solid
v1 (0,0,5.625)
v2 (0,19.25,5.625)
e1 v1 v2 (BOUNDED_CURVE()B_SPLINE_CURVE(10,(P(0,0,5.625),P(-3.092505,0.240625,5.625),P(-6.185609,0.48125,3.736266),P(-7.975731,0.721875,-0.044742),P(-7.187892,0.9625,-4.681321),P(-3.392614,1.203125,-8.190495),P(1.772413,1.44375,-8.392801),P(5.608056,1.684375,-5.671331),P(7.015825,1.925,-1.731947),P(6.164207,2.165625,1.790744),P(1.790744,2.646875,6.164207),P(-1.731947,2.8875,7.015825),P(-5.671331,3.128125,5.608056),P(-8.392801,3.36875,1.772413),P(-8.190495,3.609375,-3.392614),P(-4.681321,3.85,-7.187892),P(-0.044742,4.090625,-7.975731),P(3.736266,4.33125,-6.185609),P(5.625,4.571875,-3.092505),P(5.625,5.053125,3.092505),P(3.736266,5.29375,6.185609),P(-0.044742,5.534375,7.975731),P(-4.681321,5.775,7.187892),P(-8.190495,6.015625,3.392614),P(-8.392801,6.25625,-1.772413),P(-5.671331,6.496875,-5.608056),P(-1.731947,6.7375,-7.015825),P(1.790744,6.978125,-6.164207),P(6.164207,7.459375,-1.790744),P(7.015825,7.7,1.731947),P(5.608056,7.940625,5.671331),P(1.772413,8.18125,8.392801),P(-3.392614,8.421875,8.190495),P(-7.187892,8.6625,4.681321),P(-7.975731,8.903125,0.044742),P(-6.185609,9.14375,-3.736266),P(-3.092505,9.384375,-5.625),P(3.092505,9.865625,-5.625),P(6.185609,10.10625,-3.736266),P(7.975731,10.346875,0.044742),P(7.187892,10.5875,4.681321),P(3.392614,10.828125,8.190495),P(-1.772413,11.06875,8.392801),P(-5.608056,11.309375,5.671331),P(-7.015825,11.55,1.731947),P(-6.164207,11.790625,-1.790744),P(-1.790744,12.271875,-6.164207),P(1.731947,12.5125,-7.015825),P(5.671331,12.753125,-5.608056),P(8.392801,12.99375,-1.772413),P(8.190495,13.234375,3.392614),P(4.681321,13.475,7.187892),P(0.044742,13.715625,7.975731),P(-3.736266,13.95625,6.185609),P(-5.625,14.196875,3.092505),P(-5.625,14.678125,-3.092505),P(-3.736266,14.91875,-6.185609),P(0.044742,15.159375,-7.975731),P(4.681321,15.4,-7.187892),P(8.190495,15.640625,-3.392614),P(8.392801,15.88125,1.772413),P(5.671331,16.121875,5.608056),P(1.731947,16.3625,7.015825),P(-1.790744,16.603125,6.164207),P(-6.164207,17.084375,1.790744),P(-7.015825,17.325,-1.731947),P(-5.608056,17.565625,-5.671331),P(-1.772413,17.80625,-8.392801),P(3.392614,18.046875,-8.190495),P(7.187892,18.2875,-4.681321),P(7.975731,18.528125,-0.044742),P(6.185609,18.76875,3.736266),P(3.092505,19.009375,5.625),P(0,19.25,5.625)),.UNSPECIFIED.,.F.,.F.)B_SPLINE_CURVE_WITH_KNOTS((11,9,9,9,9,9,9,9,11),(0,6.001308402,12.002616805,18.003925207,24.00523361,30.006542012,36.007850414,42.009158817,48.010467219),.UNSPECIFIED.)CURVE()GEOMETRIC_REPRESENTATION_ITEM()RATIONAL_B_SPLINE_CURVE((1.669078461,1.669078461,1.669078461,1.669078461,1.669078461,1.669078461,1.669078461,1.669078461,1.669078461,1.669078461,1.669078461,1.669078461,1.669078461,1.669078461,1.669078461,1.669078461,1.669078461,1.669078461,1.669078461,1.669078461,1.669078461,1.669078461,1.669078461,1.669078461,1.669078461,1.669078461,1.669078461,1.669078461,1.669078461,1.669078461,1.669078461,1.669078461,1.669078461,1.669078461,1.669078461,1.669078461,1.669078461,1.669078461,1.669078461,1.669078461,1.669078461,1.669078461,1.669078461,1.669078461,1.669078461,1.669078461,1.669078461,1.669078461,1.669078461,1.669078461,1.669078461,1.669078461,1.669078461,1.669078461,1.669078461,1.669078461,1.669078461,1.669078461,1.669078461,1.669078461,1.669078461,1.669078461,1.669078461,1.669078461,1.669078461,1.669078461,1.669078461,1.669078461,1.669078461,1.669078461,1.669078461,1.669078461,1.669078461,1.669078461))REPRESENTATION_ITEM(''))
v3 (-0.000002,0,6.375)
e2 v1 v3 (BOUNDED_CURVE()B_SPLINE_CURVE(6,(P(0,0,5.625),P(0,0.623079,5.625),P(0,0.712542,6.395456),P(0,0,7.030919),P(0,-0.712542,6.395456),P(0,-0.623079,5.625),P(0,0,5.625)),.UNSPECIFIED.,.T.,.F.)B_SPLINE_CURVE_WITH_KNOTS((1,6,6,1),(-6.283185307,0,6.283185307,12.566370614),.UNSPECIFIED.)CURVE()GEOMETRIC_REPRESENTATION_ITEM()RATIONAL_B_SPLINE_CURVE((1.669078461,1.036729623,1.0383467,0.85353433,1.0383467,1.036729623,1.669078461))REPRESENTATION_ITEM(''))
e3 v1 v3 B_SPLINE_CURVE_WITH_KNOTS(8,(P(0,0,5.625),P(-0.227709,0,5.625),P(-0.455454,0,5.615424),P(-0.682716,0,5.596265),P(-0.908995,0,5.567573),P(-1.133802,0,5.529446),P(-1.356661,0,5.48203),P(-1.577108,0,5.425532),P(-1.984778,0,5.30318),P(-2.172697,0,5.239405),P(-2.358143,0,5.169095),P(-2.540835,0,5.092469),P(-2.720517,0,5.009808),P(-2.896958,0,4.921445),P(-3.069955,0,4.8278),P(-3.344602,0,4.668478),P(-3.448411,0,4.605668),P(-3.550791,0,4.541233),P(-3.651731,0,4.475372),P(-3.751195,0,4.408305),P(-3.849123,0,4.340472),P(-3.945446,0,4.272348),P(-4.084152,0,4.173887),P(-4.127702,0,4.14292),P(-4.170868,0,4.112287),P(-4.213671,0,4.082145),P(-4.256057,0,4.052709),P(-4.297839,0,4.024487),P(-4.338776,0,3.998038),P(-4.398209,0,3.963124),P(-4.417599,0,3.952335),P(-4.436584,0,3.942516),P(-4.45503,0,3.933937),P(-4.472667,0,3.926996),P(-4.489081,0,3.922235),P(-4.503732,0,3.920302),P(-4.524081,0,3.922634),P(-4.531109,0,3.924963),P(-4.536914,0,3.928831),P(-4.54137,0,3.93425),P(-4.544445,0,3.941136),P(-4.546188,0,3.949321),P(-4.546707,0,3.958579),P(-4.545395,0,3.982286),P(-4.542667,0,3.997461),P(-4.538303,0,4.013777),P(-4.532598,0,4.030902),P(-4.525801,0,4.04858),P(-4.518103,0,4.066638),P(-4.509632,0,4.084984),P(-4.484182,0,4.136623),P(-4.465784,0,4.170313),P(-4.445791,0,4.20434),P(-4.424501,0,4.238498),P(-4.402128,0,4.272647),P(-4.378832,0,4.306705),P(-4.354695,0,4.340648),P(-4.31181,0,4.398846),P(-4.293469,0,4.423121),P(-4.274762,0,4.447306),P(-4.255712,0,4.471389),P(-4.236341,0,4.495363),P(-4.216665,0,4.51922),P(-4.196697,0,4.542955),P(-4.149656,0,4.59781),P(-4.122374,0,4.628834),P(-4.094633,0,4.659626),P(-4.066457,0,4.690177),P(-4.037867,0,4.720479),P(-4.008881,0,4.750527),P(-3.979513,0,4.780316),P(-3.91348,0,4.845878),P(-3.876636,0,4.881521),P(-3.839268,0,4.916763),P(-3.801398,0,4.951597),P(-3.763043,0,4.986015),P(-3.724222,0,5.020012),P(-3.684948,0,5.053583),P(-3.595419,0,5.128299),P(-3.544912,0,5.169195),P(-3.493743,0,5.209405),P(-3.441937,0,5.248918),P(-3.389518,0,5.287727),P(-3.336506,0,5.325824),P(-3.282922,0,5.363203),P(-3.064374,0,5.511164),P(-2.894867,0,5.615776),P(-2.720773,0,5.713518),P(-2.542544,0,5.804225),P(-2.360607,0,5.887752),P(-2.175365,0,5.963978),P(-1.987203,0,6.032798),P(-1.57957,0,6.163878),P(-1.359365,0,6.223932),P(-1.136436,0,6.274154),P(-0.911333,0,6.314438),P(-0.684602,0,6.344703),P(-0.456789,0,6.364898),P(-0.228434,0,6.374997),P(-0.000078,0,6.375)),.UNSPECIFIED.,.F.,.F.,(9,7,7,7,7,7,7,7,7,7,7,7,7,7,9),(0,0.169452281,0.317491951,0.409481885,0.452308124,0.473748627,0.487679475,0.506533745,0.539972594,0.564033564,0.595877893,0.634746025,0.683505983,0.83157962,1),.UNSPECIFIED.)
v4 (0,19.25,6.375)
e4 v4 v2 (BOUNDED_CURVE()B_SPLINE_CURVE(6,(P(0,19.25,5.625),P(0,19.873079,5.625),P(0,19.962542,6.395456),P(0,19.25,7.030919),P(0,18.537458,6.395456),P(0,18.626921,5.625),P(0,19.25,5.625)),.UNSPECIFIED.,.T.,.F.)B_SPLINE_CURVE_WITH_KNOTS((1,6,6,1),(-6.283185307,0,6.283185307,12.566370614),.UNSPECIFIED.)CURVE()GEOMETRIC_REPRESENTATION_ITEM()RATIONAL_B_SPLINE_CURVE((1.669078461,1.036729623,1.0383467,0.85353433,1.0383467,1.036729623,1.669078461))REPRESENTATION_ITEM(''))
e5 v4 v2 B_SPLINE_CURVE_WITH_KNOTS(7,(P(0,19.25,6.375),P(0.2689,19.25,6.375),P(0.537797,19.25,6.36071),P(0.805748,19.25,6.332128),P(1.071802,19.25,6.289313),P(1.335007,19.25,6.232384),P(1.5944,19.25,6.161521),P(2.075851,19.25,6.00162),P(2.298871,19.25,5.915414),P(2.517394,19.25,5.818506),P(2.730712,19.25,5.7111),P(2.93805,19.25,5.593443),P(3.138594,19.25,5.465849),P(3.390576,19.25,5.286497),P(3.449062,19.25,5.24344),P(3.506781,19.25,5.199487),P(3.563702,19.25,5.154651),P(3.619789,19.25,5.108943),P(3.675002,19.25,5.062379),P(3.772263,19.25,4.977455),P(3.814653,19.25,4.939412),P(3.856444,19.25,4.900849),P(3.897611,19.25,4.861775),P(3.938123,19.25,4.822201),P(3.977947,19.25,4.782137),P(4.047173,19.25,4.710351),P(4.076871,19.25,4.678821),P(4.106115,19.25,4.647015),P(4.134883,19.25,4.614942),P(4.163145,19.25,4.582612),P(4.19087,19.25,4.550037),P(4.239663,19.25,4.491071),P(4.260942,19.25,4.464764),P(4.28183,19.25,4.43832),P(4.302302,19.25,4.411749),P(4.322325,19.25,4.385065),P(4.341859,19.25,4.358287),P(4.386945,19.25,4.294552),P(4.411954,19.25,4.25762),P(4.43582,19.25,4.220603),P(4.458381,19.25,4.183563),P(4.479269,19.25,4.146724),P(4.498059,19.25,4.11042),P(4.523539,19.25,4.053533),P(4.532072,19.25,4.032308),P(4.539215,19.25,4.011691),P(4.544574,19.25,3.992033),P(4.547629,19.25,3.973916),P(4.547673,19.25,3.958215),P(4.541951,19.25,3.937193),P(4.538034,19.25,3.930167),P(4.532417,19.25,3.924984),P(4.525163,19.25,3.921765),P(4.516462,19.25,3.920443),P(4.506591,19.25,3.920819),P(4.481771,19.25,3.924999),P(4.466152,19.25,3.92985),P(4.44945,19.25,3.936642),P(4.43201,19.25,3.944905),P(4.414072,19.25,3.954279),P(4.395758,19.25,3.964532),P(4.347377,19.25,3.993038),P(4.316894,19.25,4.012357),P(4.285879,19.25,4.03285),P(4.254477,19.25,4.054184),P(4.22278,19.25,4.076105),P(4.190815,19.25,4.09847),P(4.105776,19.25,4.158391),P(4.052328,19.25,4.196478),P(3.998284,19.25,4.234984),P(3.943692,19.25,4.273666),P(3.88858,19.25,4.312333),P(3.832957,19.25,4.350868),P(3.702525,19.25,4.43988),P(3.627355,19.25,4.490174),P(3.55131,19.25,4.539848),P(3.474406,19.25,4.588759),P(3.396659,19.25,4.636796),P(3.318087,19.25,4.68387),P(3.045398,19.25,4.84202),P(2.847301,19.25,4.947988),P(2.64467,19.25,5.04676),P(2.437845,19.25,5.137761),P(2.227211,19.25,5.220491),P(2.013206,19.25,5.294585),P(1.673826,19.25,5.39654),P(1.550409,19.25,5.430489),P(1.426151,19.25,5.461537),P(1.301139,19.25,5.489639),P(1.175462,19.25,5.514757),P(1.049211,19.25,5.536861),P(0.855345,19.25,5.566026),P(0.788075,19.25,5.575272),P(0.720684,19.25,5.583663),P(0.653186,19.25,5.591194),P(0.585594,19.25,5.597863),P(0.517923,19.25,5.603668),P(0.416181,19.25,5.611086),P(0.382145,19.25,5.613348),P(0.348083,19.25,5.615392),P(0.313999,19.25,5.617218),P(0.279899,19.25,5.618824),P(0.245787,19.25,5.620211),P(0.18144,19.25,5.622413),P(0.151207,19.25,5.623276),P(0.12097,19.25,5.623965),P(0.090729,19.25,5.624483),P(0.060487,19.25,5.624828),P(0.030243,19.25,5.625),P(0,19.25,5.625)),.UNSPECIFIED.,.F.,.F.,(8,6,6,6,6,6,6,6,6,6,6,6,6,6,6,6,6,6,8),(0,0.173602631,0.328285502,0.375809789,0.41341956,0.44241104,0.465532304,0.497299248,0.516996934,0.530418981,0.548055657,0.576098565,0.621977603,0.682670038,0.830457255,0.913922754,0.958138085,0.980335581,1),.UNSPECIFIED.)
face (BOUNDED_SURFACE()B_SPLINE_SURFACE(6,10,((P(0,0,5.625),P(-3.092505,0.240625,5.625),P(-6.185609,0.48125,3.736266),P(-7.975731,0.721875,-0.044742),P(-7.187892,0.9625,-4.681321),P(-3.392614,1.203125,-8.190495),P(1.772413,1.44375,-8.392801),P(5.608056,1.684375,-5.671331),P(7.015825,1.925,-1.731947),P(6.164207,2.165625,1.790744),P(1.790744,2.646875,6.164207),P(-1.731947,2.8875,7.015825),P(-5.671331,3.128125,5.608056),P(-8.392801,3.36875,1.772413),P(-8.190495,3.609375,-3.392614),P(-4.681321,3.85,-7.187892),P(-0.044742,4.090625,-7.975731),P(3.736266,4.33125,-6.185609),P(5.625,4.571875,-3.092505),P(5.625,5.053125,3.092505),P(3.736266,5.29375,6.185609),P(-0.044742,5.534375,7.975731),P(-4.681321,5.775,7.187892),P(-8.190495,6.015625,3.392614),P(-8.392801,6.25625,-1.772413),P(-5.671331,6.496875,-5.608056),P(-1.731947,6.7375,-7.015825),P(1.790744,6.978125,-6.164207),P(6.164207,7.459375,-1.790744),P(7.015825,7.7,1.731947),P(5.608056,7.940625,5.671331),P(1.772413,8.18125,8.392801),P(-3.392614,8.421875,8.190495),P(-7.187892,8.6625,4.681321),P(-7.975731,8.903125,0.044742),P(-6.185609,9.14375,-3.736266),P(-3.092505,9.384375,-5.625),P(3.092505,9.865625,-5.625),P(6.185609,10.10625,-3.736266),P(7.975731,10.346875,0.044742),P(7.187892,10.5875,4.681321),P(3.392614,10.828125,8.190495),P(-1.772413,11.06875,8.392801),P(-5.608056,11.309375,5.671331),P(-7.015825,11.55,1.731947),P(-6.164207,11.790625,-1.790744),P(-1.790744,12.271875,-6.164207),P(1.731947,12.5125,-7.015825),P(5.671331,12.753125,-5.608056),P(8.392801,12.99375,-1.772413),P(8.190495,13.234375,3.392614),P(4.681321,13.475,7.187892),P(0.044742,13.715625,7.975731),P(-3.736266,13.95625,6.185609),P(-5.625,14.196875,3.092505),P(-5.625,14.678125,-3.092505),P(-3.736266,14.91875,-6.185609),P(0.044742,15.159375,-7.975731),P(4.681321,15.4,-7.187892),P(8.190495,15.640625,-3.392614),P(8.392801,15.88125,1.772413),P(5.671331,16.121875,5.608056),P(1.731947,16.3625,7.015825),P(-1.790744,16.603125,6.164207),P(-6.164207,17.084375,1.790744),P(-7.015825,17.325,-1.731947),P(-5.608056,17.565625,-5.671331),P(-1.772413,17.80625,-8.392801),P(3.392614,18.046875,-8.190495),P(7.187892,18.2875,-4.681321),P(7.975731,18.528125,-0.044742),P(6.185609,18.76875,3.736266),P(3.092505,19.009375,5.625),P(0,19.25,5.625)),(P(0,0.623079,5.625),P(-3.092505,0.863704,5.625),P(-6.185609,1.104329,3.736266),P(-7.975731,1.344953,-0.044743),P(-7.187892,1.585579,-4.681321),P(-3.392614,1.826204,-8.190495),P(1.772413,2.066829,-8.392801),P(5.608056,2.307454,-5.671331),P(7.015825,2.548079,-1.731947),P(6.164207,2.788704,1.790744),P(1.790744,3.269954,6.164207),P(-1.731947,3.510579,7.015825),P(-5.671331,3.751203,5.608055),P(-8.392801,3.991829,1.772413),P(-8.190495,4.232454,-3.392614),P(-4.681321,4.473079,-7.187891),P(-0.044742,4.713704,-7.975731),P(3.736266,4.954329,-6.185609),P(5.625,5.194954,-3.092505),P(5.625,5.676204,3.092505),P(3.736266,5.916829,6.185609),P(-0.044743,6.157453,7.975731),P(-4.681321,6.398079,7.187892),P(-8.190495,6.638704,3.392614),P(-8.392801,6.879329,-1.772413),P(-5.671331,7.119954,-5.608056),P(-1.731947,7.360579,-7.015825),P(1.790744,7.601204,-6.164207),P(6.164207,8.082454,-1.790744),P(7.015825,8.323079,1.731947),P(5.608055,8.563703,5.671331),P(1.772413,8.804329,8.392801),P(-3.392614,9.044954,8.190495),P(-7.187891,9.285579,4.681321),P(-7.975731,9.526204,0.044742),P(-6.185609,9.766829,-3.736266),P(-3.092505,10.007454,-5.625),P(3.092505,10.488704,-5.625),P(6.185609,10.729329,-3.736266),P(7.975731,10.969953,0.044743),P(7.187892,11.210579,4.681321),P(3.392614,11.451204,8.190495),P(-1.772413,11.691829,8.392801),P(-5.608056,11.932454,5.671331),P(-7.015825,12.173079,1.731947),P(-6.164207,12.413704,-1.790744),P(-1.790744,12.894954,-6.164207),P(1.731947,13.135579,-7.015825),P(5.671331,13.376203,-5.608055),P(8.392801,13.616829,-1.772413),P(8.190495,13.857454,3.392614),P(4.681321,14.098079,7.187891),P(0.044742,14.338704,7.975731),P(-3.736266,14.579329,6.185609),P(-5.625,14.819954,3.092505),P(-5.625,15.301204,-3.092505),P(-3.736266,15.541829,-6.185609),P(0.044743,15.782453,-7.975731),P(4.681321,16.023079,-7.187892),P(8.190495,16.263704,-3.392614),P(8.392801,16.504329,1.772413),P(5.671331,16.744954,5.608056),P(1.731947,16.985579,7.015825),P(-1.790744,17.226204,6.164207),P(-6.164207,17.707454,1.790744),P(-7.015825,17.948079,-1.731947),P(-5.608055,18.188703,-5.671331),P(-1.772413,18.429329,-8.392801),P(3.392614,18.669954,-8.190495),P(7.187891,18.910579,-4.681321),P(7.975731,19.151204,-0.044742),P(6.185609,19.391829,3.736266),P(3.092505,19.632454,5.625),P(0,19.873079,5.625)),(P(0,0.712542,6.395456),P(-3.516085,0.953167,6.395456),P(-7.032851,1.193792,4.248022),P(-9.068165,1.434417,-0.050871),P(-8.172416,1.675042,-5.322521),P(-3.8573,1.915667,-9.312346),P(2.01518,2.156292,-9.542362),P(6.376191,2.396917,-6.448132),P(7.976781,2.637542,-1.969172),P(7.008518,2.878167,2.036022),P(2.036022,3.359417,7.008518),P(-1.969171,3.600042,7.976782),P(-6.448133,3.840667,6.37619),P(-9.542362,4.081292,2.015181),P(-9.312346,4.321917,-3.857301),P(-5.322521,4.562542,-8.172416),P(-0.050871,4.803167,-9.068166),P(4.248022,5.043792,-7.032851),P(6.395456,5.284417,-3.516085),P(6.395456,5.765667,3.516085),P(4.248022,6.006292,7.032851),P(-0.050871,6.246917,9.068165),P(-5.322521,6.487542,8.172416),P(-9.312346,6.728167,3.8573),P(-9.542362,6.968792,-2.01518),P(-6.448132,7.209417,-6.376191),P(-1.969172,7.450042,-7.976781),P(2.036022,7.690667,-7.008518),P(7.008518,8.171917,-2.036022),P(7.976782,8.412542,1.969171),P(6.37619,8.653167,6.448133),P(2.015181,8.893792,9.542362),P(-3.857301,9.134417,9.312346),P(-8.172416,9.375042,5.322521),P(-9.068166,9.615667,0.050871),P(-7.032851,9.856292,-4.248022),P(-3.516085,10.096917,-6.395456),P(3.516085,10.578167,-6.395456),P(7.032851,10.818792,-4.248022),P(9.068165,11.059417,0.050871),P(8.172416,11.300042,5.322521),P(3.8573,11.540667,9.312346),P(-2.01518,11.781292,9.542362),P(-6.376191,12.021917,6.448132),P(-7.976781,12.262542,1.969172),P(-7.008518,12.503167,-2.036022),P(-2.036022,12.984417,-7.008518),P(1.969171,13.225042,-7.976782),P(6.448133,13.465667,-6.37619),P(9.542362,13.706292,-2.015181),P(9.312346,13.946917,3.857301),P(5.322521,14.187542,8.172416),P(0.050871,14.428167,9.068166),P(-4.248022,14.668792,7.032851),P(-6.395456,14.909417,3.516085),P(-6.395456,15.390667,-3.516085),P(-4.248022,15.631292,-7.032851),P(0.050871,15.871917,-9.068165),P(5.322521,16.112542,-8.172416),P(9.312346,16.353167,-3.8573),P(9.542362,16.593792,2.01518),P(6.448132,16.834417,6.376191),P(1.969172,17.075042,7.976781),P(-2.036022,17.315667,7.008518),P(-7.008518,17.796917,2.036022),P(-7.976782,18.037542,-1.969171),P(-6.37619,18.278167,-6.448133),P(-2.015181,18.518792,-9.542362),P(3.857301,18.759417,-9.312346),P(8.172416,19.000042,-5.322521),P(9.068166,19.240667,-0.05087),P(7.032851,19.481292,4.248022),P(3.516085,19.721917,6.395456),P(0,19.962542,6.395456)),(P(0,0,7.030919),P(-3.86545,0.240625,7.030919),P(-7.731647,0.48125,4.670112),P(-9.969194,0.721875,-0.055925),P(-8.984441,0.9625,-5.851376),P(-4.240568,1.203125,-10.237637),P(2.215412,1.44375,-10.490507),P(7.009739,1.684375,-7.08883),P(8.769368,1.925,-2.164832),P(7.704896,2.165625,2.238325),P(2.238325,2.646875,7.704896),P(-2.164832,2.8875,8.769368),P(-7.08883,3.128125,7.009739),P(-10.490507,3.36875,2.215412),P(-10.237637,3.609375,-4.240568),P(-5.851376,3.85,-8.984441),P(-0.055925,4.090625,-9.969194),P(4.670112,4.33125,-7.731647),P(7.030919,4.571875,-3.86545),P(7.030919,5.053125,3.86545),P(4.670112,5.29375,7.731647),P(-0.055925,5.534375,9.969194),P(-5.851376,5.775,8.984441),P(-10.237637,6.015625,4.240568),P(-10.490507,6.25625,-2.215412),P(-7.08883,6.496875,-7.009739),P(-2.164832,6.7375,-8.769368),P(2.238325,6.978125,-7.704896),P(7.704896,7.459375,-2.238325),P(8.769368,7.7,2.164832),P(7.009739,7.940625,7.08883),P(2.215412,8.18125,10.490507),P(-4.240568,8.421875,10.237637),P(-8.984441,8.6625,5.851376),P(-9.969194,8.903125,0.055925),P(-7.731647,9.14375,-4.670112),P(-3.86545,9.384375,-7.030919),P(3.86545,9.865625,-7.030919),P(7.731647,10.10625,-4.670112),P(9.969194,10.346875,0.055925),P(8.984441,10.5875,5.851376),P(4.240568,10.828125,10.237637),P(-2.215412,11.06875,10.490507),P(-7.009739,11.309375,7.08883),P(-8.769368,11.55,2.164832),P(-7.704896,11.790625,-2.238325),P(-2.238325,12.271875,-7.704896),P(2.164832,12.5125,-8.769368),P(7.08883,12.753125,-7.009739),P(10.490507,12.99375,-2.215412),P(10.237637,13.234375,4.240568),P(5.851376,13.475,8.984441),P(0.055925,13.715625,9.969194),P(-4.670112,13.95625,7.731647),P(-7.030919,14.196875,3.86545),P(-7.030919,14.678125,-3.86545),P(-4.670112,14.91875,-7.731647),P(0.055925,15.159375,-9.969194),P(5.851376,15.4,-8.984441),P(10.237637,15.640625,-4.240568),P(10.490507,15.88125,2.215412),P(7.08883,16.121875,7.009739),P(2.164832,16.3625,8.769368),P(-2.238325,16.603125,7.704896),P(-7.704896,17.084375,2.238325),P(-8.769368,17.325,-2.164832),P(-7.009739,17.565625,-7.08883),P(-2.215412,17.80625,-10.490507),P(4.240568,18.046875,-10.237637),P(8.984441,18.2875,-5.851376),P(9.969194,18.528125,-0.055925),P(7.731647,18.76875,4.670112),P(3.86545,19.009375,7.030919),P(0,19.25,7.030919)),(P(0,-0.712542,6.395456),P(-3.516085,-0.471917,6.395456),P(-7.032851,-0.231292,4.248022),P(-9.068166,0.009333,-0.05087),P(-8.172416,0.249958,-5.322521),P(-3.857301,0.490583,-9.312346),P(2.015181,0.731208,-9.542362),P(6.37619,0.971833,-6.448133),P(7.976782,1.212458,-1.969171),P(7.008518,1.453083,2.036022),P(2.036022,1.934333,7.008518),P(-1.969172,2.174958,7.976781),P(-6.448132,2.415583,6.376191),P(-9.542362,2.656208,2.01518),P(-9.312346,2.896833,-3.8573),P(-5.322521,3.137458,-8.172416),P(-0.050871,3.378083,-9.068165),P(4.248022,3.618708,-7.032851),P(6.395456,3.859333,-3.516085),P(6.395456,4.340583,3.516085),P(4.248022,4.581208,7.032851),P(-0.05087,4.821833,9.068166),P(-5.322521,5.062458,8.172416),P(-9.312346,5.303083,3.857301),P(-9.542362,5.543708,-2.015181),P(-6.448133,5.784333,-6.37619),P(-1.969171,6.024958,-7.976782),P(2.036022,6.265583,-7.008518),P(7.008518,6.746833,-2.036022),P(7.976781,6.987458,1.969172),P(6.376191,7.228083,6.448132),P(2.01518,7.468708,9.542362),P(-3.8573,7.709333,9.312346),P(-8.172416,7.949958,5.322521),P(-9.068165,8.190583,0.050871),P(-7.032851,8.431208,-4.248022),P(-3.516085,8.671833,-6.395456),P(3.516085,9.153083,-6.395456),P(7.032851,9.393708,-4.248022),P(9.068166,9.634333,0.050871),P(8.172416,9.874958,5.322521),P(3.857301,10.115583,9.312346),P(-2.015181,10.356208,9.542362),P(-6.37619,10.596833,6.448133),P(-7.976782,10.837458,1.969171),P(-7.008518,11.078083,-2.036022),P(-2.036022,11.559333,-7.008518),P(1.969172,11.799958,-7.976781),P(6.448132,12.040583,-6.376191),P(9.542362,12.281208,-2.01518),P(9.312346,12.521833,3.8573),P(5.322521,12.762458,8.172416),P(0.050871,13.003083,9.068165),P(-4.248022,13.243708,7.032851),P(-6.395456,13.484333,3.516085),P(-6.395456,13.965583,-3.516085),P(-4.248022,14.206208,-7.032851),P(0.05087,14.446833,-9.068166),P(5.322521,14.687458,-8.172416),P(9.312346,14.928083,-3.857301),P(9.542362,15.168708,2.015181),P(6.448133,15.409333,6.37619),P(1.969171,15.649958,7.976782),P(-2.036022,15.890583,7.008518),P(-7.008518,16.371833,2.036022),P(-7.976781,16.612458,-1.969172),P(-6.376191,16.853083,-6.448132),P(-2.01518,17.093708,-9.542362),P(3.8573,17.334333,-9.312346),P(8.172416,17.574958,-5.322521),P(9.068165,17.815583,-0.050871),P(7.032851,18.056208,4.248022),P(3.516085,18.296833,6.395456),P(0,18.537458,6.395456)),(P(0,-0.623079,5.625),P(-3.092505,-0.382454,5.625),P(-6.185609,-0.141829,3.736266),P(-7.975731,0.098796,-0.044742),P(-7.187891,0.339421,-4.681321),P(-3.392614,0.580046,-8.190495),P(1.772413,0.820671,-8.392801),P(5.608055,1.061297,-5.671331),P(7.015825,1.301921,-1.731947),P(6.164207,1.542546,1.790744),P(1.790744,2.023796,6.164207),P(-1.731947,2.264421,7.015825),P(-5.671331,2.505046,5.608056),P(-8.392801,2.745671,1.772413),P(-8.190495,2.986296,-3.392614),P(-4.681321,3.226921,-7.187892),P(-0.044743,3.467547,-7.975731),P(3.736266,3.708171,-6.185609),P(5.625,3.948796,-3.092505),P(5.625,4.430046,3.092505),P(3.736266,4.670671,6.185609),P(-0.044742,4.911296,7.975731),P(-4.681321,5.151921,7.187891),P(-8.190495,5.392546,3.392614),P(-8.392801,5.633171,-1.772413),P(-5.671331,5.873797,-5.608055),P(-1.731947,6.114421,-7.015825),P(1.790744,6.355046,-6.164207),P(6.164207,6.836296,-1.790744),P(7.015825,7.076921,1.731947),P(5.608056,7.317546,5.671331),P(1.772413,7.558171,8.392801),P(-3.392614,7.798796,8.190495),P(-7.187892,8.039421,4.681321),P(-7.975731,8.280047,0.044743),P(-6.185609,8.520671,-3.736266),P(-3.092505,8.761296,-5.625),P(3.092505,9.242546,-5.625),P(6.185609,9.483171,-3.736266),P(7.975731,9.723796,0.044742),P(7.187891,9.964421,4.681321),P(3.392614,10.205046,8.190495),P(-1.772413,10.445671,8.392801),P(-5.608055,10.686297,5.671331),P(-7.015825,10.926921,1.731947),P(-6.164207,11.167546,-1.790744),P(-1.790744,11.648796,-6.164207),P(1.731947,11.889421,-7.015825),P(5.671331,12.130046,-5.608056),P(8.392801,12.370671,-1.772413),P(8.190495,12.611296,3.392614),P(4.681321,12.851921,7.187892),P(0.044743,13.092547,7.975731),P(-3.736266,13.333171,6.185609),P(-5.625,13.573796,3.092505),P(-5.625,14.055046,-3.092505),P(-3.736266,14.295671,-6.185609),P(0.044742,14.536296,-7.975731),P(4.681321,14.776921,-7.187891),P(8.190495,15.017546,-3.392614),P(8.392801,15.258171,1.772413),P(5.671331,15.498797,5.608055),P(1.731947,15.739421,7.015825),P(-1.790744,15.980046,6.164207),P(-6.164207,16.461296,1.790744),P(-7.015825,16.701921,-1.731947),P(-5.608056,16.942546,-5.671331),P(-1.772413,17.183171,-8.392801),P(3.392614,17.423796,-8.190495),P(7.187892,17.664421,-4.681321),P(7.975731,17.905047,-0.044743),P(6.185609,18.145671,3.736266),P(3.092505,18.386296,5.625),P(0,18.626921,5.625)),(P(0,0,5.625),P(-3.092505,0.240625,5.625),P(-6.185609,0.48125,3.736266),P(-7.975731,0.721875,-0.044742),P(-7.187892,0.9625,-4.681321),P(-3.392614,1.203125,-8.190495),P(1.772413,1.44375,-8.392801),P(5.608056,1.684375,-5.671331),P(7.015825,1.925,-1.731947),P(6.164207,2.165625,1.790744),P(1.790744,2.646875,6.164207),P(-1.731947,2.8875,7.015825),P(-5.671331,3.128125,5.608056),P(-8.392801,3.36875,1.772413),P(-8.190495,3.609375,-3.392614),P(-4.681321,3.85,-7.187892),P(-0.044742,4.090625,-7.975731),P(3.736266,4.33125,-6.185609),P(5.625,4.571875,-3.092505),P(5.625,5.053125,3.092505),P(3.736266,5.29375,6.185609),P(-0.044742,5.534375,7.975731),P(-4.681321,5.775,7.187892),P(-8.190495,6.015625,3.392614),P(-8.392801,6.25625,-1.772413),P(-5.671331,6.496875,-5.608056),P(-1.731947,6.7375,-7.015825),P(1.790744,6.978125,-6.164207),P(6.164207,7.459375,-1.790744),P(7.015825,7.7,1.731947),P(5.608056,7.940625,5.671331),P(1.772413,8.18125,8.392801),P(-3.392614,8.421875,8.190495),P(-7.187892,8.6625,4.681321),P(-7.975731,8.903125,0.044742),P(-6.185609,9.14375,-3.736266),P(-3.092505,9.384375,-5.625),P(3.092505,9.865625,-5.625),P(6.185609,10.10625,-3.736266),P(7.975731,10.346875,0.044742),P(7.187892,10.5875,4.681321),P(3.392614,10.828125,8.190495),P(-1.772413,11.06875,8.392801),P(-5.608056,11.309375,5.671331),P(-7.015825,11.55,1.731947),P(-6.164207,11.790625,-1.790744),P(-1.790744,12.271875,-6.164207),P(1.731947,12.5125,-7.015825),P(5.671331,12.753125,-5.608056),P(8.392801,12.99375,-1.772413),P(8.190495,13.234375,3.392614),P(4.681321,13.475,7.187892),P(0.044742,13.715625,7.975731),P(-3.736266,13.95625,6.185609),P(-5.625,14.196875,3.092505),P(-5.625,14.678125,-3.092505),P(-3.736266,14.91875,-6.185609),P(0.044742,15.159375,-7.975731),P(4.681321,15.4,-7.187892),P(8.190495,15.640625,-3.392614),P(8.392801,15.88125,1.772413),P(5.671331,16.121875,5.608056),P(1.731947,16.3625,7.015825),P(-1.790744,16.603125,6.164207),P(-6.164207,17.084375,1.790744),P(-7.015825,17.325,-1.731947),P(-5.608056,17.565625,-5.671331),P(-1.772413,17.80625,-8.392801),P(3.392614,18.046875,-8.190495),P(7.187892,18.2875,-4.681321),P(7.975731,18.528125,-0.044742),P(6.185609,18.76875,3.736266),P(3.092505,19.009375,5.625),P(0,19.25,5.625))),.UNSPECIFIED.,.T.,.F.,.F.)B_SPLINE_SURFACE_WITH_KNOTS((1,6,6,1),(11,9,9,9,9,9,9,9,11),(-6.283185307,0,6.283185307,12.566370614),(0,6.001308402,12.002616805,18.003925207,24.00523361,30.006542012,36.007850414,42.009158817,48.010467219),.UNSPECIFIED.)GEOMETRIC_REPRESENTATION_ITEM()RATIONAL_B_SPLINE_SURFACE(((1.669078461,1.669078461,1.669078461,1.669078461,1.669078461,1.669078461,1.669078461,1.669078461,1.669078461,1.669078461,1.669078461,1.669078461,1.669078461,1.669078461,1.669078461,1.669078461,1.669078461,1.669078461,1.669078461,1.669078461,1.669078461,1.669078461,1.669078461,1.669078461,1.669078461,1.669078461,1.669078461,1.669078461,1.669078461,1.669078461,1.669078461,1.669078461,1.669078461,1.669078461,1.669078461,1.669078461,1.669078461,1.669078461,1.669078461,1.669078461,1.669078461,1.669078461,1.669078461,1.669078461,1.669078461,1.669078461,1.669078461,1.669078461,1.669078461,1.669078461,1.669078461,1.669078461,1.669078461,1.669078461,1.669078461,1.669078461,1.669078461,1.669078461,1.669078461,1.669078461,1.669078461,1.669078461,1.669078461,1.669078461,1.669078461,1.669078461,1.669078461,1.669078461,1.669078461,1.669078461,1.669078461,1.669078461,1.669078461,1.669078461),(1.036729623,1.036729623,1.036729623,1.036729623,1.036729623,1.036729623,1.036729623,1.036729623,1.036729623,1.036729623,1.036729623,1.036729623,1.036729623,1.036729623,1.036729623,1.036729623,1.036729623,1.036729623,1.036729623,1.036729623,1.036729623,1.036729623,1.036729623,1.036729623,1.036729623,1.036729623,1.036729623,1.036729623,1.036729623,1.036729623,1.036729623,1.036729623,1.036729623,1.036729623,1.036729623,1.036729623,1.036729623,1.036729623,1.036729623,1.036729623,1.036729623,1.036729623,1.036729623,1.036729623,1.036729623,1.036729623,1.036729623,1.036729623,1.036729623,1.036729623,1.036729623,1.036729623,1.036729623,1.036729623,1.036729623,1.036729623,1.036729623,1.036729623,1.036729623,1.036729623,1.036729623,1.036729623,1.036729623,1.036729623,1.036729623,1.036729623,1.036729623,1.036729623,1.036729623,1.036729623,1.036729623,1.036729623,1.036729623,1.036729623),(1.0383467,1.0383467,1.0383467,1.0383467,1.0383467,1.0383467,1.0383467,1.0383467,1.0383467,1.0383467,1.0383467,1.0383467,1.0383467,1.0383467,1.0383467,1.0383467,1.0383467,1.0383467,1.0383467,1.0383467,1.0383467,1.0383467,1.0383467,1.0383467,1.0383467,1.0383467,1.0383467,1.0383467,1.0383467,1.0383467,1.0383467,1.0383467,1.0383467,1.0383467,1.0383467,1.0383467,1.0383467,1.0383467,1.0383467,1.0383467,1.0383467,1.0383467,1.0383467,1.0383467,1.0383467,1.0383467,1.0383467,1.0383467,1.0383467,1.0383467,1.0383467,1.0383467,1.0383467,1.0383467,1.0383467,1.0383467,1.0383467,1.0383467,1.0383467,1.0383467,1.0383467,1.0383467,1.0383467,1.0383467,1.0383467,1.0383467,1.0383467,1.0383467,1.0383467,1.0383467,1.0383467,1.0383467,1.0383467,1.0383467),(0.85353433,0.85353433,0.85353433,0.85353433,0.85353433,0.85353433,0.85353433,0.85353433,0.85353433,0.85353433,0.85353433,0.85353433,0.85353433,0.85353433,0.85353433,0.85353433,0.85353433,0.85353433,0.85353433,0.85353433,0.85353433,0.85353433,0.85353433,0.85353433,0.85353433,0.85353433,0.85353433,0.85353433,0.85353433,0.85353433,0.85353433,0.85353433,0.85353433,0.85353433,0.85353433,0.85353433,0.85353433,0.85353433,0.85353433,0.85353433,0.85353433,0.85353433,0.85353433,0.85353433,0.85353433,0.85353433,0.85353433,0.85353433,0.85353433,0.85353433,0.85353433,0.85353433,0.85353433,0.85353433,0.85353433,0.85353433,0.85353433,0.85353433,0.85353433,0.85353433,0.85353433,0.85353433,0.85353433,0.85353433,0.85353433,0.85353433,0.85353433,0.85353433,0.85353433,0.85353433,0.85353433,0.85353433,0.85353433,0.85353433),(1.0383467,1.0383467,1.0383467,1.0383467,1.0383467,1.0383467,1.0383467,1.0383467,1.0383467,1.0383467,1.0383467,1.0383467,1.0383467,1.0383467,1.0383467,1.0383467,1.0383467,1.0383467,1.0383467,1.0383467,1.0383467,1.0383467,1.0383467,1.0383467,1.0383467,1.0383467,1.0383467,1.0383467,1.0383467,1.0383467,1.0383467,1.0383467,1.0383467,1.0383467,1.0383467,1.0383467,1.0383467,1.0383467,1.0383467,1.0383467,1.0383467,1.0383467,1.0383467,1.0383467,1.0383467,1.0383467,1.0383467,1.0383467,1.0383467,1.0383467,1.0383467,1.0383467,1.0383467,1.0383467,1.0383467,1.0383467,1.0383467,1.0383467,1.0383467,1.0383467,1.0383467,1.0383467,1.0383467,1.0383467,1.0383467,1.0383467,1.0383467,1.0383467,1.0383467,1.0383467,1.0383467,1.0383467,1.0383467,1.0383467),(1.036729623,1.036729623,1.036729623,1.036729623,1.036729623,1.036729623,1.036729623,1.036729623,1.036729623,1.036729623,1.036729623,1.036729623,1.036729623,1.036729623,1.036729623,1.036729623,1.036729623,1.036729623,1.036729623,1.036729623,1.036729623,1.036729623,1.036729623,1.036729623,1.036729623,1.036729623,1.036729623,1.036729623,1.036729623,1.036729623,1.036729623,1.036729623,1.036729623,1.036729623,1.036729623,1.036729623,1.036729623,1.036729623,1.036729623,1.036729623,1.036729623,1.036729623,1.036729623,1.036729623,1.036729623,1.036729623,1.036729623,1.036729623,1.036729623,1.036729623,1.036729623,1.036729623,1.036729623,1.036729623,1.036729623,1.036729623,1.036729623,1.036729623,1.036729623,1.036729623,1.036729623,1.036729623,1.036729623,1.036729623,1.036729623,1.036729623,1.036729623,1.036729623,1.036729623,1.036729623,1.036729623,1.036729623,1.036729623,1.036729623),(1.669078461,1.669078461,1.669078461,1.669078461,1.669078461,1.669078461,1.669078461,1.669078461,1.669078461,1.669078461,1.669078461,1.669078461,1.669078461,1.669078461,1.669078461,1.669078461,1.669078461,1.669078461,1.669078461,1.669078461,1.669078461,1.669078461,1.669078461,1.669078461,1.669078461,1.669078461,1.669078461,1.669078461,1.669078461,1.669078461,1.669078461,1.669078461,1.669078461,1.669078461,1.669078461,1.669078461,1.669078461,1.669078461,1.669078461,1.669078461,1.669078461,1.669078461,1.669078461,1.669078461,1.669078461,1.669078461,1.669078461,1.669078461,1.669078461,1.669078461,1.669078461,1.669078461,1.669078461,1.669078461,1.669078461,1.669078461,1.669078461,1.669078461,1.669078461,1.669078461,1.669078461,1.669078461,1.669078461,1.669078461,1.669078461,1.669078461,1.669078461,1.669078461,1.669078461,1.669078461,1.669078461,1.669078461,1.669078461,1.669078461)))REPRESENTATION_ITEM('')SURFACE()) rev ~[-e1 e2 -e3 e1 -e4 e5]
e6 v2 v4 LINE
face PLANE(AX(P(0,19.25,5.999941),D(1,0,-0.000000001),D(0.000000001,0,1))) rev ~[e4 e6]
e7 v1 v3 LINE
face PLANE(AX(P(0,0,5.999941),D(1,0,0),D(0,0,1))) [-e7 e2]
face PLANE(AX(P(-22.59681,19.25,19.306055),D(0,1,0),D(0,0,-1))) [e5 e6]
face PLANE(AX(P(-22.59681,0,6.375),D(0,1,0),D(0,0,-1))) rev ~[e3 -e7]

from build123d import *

# Parameters (mm, degrees)
WYCI_GNI_CIE_PO_CIE_CE2_PITCH   = 2.75
WYCI_GNI_CIE_PO_CIE_CE2_HEIGHT  = 19.25
WYCI_GNI_CIE_PO_CIE_CE2_RADIUS  = 6
SZKIC5_R                        = 0.375
WYTNIJ_WYCI_GNI_CIE1_DEPTH      = 22.596810022
WYTNIJ_WYCI_GNI_CIE1_DEPTH_BACK = 22.596810022
SZKIC12_W                       = 31.402569525
SZKIC12_H                       = 3.102846983
SZKIC12_W_2                     = 33.650246462


with BuildPart() as part:
    # Wyciągnięcie po ścieżce2: sweep along a helix
    with BuildLine() as wyci_gni_cie_po_cie_ce2_path:
        Helix(WYCI_GNI_CIE_PO_CIE_CE2_PITCH, WYCI_GNI_CIE_PO_CIE_CE2_HEIGHT, WYCI_GNI_CIE_PO_CIE_CE2_RADIUS, center=(0, 0, 0), direction=(0, 1, 0), lefthand=True)
    # Szkic5 → Wyciągnięcie po ścieżce2 (sweep)
    with BuildSketch(Plane(origin=(0, 0, 0), x_dir=(0, 0, -1), z_dir=(1, 0, 0))):
        with Locations((-6, 0)):
            Circle(SZKIC5_R)
    sweep(path=wyci_gni_cie_po_cie_ce2_path.line, is_frenet=True)

    # Szkic12 → Wytnij-wyciągnięcie1 (cut, two sides: drawn at the far end of the back side and taken through both)
    with BuildSketch(Plane(origin=(0, 0, 0), x_dir=(0, 0, -1), z_dir=(1, 0, 0)).offset(-WYTNIJ_WYCI_GNI_CIE1_DEPTH_BACK)):
        with Locations((9.326284763, -1.551423492)):
            Rectangle(SZKIC12_W, SZKIC12_H)
        with Locations((-2.48093164, 20.801423492)):
            Rectangle(SZKIC12_W_2, SZKIC12_H)
    extrude(amount=WYTNIJ_WYCI_GNI_CIE1_DEPTH + WYTNIJ_WYCI_GNI_CIE1_DEPTH_BACK, mode=Mode.SUBTRACT)


solid = part.part
